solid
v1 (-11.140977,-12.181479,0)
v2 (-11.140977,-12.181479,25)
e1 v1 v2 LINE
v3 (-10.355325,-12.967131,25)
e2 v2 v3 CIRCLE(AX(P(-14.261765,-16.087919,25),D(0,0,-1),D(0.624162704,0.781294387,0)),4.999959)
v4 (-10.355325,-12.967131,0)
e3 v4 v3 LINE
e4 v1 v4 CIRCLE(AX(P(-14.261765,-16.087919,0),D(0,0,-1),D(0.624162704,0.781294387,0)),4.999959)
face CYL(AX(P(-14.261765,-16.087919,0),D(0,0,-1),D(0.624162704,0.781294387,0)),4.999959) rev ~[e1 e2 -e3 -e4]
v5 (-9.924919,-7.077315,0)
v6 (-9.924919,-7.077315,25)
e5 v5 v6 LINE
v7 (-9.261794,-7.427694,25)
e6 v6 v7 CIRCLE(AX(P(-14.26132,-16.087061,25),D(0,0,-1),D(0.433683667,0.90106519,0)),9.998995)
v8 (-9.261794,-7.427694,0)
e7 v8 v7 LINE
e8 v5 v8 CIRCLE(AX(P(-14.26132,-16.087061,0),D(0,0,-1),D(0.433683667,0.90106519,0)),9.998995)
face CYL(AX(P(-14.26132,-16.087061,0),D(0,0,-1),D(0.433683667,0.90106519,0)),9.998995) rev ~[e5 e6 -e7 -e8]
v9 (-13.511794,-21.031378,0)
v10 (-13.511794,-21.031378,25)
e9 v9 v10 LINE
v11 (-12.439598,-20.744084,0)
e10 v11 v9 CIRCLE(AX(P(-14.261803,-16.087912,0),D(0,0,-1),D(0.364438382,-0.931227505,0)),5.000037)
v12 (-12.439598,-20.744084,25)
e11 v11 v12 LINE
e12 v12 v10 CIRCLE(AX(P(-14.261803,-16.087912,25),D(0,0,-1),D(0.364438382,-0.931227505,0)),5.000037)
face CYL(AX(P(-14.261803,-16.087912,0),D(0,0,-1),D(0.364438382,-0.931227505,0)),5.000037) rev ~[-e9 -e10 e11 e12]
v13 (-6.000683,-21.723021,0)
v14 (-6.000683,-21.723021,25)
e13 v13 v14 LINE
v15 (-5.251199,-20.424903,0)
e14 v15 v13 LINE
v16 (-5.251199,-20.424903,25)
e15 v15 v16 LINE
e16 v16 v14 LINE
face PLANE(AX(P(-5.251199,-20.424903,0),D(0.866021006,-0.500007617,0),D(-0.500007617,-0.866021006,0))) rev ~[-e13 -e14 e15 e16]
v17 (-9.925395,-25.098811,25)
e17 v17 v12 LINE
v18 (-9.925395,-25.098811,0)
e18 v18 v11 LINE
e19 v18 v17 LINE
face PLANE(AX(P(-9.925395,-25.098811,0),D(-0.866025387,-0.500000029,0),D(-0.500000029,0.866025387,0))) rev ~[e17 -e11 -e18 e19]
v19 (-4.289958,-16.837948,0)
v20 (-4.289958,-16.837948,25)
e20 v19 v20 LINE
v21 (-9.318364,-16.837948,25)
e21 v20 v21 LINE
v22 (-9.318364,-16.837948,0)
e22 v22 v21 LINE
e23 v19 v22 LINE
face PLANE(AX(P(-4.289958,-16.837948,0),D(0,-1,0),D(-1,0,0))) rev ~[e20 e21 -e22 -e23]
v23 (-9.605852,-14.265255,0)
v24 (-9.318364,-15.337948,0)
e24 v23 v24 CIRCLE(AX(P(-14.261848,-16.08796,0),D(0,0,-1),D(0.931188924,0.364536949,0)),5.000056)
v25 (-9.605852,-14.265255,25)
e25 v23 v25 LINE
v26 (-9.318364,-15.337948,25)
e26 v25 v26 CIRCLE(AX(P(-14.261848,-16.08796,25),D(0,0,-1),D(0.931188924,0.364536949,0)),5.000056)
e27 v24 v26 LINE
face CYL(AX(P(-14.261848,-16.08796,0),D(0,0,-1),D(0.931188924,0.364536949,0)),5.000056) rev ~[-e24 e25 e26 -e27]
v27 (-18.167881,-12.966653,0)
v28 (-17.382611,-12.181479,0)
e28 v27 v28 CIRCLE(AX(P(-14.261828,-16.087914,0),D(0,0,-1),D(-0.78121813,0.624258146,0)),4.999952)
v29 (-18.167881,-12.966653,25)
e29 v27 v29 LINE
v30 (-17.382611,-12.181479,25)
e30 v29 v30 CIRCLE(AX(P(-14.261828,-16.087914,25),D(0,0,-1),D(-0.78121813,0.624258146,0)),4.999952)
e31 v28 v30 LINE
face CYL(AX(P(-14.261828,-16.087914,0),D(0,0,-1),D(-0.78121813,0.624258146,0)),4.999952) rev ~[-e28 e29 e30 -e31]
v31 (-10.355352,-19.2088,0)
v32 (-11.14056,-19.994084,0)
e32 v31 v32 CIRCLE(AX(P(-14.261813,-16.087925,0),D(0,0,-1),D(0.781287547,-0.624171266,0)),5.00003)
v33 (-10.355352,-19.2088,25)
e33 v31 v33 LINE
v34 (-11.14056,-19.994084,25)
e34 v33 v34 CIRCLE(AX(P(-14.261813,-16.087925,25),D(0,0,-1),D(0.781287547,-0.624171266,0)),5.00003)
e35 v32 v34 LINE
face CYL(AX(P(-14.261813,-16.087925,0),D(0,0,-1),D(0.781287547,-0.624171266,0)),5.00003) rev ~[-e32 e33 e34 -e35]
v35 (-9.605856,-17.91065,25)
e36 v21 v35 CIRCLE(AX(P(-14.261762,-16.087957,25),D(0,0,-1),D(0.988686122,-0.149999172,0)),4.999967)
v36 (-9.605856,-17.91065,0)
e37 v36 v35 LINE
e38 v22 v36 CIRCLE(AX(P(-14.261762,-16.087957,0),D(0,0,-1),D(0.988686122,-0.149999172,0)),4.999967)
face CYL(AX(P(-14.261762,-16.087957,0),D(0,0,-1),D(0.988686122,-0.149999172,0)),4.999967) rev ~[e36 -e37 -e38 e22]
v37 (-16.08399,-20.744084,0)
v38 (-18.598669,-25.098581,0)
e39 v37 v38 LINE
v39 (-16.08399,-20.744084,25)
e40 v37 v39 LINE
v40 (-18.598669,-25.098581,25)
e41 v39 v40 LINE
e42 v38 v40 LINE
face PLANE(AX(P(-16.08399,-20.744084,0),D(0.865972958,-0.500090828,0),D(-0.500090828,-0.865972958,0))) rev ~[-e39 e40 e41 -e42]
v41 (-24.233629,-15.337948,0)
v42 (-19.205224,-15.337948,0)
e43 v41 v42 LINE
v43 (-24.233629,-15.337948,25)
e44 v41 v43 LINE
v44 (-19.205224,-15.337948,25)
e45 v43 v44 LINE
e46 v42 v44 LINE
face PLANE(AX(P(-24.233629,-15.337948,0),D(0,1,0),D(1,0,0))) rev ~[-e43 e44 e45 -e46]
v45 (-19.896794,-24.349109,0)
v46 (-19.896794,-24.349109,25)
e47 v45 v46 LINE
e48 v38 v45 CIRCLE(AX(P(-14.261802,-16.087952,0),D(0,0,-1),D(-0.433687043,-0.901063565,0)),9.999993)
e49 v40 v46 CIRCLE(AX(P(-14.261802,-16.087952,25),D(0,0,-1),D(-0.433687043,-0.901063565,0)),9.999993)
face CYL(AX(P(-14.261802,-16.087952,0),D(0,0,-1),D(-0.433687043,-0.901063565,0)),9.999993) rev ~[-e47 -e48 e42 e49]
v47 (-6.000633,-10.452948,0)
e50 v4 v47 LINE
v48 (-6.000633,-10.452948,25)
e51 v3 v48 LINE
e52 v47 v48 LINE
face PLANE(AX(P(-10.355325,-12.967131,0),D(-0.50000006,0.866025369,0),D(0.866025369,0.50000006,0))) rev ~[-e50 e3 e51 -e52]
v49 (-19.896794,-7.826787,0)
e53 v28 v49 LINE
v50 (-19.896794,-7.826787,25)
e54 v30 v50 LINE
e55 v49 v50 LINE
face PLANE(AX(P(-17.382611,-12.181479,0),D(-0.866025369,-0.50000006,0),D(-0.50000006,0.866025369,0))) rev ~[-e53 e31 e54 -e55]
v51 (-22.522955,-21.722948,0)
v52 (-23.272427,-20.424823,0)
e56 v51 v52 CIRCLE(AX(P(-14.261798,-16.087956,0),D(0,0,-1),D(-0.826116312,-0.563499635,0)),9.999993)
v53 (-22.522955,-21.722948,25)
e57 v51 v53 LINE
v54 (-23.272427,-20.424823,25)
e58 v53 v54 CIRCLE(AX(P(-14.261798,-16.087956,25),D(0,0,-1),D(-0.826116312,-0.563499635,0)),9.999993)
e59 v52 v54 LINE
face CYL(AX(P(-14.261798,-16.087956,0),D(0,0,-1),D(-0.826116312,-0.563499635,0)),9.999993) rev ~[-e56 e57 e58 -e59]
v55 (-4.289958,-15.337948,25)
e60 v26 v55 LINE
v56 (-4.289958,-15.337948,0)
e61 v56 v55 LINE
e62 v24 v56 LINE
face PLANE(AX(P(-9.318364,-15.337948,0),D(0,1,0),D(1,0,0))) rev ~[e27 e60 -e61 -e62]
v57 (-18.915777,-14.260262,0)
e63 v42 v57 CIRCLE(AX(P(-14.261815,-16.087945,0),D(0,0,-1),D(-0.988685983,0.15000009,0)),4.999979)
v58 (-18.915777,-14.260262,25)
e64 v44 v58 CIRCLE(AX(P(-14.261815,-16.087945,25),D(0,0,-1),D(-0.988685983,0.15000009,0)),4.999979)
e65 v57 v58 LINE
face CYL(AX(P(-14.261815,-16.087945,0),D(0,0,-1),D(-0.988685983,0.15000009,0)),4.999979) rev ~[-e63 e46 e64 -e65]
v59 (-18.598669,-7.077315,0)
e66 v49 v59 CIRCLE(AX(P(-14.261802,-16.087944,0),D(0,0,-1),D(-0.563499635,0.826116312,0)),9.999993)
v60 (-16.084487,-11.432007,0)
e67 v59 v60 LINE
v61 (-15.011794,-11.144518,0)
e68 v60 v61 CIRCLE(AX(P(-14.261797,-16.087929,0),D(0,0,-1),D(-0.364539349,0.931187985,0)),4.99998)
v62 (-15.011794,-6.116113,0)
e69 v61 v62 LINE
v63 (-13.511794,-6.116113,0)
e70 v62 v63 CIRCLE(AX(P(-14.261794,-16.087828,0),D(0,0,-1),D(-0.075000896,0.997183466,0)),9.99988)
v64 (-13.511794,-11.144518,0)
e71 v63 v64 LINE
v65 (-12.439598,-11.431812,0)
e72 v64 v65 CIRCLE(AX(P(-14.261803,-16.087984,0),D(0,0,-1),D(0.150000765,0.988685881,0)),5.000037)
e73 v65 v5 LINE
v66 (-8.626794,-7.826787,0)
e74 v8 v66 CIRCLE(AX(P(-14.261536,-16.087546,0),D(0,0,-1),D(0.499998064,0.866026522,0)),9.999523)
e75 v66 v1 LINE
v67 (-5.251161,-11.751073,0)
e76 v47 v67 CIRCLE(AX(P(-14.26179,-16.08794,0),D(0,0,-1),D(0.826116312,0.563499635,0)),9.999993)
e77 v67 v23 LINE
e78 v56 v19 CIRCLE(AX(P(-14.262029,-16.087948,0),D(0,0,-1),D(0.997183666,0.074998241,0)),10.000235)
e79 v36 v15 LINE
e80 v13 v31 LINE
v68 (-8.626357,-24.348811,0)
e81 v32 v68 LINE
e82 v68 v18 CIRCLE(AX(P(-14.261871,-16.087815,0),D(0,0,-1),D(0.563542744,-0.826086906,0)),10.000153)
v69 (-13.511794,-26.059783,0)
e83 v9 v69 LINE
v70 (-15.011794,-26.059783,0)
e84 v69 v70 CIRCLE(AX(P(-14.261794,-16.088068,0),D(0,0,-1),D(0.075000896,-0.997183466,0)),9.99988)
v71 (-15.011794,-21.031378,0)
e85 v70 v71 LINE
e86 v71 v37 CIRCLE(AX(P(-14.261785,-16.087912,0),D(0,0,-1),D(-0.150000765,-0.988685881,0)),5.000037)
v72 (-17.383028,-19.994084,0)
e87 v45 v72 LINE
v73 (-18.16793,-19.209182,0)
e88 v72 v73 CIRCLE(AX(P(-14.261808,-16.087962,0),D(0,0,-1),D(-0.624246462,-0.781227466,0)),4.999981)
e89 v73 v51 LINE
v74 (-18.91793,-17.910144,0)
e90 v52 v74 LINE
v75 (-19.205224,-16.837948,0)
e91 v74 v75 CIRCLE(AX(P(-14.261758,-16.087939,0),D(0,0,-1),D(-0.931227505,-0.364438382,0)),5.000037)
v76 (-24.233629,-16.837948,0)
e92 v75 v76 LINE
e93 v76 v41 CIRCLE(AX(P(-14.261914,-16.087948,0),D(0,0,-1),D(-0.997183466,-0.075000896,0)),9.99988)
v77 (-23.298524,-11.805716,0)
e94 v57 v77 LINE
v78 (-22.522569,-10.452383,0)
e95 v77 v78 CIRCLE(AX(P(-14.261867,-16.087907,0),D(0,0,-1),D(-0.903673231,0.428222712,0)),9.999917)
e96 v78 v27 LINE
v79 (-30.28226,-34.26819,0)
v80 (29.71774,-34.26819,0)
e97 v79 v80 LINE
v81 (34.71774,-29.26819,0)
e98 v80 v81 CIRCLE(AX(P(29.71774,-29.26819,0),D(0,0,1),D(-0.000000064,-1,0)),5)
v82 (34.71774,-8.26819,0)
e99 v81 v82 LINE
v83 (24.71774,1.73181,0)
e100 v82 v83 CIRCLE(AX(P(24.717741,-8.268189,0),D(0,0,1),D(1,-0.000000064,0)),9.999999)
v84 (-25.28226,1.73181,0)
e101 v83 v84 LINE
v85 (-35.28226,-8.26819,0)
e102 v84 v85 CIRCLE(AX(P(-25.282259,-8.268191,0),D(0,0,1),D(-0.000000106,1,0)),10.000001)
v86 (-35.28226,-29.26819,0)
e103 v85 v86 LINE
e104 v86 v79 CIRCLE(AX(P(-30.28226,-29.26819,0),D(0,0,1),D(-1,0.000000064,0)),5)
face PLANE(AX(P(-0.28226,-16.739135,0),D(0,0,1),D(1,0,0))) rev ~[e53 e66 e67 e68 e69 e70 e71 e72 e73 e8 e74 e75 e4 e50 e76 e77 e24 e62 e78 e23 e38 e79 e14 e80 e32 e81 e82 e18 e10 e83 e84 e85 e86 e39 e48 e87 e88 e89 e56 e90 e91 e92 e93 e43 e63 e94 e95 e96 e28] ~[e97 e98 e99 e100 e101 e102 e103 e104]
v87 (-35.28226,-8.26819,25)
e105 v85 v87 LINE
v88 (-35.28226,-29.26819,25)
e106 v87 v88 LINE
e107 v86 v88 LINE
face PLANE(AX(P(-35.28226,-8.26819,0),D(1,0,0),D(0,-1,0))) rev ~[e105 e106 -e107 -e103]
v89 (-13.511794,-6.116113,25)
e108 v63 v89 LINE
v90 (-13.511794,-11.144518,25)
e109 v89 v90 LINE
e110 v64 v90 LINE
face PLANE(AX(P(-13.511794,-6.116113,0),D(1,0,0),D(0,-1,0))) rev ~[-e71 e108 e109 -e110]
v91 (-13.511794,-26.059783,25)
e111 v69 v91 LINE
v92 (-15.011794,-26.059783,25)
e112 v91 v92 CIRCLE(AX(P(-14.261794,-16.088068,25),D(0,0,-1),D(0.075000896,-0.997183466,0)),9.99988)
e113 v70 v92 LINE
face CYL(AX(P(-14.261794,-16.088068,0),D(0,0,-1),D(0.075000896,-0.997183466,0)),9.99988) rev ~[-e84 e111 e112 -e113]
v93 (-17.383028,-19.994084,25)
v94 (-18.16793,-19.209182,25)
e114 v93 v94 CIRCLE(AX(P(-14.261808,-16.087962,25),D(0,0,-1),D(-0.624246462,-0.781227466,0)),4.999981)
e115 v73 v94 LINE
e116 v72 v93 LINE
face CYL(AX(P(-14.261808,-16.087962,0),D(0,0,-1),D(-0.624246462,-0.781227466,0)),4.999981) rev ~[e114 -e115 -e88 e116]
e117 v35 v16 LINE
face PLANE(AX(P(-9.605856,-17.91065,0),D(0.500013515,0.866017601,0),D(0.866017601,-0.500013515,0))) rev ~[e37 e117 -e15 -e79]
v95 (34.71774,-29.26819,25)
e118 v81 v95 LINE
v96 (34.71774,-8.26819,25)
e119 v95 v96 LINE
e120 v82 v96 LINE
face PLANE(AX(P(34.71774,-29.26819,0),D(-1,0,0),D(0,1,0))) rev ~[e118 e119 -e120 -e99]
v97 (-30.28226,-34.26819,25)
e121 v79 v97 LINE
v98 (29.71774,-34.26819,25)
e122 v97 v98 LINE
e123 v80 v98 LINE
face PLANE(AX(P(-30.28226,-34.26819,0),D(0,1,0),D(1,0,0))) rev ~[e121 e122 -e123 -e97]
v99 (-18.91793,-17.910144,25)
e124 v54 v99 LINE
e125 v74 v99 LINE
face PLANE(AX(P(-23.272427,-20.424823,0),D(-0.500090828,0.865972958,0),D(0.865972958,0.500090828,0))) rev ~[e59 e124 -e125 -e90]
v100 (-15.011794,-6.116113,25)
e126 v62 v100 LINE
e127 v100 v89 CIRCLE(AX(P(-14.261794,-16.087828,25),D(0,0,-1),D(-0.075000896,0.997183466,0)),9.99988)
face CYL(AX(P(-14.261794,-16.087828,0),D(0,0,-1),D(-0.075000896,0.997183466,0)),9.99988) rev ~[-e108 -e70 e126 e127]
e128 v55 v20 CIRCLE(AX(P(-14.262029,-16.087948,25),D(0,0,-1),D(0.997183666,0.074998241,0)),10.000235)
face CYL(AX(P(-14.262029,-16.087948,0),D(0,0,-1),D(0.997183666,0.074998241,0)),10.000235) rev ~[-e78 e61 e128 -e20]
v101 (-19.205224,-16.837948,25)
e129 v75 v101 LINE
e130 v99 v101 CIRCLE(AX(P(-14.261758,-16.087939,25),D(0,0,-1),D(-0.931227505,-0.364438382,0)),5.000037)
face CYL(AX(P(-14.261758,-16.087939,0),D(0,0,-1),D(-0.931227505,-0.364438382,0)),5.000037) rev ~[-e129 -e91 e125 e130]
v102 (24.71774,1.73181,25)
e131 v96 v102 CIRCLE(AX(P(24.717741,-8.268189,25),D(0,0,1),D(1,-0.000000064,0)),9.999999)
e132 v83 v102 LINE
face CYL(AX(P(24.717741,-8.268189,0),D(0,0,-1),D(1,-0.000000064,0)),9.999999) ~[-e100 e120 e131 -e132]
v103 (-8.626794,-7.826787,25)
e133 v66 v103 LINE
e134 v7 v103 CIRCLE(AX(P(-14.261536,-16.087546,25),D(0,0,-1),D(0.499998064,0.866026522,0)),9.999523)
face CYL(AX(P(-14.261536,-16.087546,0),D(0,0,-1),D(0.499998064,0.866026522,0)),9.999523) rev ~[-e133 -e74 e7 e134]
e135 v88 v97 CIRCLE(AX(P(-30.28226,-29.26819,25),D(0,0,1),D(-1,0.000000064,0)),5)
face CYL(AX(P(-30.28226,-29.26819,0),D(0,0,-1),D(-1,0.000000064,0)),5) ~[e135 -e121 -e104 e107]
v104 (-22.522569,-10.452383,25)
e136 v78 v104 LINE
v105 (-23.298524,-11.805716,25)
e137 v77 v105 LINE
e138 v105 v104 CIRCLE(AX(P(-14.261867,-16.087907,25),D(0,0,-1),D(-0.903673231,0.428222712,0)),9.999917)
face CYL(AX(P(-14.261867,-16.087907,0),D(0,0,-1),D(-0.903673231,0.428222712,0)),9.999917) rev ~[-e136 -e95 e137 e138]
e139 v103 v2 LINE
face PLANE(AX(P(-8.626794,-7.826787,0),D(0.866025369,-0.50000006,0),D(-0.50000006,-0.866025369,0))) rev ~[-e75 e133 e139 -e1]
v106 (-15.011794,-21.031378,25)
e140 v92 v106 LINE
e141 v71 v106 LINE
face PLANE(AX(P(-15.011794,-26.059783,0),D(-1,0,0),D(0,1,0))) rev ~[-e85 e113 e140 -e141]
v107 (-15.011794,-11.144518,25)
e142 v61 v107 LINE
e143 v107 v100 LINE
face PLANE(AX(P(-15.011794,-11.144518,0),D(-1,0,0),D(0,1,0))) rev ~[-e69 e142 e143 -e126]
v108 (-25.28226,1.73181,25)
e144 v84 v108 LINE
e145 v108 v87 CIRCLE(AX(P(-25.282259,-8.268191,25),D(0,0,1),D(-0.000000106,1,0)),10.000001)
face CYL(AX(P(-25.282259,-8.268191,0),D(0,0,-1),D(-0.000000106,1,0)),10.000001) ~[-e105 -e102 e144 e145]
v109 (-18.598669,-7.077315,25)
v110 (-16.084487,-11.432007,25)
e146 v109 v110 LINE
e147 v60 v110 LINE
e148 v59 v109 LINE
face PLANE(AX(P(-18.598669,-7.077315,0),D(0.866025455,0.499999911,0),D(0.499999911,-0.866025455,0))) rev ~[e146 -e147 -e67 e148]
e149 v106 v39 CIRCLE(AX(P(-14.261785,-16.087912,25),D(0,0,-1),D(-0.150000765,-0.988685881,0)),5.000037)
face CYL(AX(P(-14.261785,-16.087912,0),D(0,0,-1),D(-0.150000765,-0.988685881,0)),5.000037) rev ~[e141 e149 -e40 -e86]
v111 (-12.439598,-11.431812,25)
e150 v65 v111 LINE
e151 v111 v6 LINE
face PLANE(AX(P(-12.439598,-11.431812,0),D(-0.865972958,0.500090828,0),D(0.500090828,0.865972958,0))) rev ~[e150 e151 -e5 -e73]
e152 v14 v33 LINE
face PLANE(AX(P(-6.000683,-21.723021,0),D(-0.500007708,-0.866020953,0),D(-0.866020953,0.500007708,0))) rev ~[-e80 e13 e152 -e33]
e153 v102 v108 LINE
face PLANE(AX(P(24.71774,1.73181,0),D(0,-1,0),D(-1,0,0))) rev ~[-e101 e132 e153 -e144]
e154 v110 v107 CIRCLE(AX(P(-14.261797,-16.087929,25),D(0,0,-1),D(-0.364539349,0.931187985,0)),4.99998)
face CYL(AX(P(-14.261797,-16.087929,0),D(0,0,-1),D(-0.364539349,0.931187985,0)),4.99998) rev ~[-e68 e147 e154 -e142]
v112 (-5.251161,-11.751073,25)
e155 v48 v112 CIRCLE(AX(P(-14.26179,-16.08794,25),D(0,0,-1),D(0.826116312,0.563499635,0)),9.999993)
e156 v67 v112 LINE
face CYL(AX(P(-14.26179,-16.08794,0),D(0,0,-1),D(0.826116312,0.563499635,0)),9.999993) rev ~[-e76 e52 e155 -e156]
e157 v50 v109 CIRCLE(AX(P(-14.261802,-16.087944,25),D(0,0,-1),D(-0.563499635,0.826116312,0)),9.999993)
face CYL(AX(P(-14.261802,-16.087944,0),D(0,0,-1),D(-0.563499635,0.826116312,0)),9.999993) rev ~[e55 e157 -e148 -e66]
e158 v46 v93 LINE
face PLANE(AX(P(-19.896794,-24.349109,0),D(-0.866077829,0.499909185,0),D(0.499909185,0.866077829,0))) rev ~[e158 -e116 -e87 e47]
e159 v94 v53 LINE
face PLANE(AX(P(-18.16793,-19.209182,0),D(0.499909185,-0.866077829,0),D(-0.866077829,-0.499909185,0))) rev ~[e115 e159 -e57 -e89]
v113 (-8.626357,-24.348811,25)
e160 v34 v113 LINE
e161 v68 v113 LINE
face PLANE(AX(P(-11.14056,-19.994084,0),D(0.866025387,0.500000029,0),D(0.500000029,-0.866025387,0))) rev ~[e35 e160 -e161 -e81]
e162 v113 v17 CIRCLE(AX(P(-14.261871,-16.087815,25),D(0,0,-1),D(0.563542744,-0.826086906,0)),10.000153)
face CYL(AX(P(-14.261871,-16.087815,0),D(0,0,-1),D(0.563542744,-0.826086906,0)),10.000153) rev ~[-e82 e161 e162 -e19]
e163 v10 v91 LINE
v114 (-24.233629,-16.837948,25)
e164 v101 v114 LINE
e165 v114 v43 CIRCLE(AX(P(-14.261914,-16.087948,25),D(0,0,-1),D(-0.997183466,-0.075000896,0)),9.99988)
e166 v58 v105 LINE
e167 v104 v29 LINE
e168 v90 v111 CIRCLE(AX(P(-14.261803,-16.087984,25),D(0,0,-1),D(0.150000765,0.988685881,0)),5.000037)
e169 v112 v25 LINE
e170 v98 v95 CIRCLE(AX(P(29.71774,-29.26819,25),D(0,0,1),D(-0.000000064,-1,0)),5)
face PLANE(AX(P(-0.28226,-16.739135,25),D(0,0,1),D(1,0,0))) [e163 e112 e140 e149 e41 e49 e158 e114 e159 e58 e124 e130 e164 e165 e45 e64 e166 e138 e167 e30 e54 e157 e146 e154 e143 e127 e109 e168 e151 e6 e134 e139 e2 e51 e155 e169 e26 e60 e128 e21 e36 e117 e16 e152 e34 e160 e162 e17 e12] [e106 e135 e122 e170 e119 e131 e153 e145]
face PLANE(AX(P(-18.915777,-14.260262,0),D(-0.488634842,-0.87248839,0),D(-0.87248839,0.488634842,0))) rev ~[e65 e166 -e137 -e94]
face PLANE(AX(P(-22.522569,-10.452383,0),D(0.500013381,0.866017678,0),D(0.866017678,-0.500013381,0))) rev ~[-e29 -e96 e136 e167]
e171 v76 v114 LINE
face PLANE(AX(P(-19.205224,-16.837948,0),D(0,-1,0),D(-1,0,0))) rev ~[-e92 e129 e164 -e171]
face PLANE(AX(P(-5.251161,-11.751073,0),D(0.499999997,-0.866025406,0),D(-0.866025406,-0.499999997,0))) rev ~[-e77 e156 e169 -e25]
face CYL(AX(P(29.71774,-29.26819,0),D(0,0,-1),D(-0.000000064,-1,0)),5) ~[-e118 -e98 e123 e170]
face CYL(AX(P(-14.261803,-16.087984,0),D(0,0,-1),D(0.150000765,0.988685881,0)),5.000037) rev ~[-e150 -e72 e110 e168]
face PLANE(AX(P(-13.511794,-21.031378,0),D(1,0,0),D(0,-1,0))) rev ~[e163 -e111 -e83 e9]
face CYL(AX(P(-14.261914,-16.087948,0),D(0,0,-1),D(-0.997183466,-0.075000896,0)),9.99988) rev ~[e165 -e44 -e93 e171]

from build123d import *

# Parameters (mm, degrees)
F1_DEPTH = 25


with BuildPart() as f1:
    # F0 (on Top) → F1 (new body)
    with BuildSketch(Plane.XY):
        with BuildLine():
            ThreePointArc((-35.28226, -29.26819), (-33.817794, -32.803724), (-30.28226, -34.26819))
            Line((-30.28226, -34.26819), (29.71774, -34.26819))
            ThreePointArc((29.71774, -34.26819), (33.253274, -32.803724), (34.71774, -29.26819))
            Line((34.71774, -29.26819), (34.71774, -8.26819))
            ThreePointArc((34.71774, -8.26819), (31.788808, -1.197122), (24.71774, 1.73181))
            Line((24.71774, 1.73181), (-25.28226, 1.73181))
            ThreePointArc((-25.28226, 1.73181), (-32.353327, -1.197122), (-35.28226, -8.26819))
            Line((-35.28226, -8.26819), (-35.28226, -29.26819))
        make_face()
        with BuildLine():
            ThreePointArc((-16.084487, -11.432007), (-15.556147, -11.258388), (-15.011794, -11.144518))
            Line((-15.011794, -11.144518), (-15.011794, -6.116113))
            ThreePointArc((-15.011794, -6.116113), (-14.261794, -6.087948), (-13.511794, -6.116113))
            Line((-13.511794, -6.116113), (-13.511794, -11.144518))
            ThreePointArc((-13.511794, -11.144518), (-12.967699, -11.258319), (-12.439598, -11.431812))
            Line((-12.439598, -11.431812), (-9.924919, -7.077315))
            ThreePointArc((-9.924919, -7.077315), (-9.59007, -7.246285), (-9.261794, -7.427694))
            ThreePointArc((-9.261794, -7.427694), (-8.940551, -7.621285), (-8.626794, -7.826787))
            Line((-8.626794, -7.826787), (-11.140977, -12.181479))
            ThreePointArc((-11.140977, -12.181479), (-10.72626, -12.552414), (-10.355325, -12.967131))
            Line((-10.355325, -12.967131), (-6.000633, -10.452948))
            ThreePointArc((-6.000633, -10.452948), (-5.60154, -11.087948), (-5.251161, -11.751073))
            Line((-5.251161, -11.751073), (-9.605852, -14.265255))
            ThreePointArc((-9.605852, -14.265255), (-9.432234, -14.793595), (-9.318364, -15.337948))
            Line((-9.318364, -15.337948), (-4.289958, -15.337948))
            ThreePointArc((-4.289958, -15.337948), (-4.261794, -16.087948), (-4.289958, -16.837948))
            Line((-4.289958, -16.837948), (-9.318364, -16.837948))
            ThreePointArc((-9.318364, -16.837948), (-9.432235, -17.382306), (-9.605856, -17.91065))
            Line((-9.605856, -17.91065), (-5.251199, -20.424903))
            Line((-5.251199, -20.424903), (-6.000683, -21.723021))
            Line((-6.000683, -21.723021), (-10.355352, -19.2088))
            ThreePointArc((-10.355352, -19.2088), (-10.726087, -19.623309), (-11.14056, -19.994084))
            Line((-11.14056, -19.994084), (-8.626357, -24.348811))
            ThreePointArc((-8.626357, -24.348811), (-9.261794, -24.748202), (-9.925395, -25.098811))
            Line((-9.925395, -25.098811), (-12.439598, -20.744084))
            ThreePointArc((-12.439598, -20.744084), (-12.967699, -20.917577), (-13.511794, -21.031378))
            Line((-13.511794, -21.031378), (-13.511794, -26.059783))
            ThreePointArc((-13.511794, -26.059783), (-14.261794, -26.087948), (-15.011794, -26.059783))
            Line((-15.011794, -26.059783), (-15.011794, -21.031378))
            ThreePointArc((-15.011794, -21.031378), (-15.555889, -20.917577), (-16.08399, -20.744084))
            Line((-16.08399, -20.744084), (-18.598669, -25.098581))
            ThreePointArc((-18.598669, -25.098581), (-19.261794, -24.748202), (-19.896794, -24.349109))
            Line((-19.896794, -24.349109), (-17.383028, -19.994084))
            ThreePointArc((-17.383028, -19.994084), (-17.797328, -19.623482), (-18.16793, -19.209182))
            Line((-18.16793, -19.209182), (-22.522955, -21.722948))
            ThreePointArc((-22.522955, -21.722948), (-22.922048, -21.087948), (-23.272427, -20.424823))
            Line((-23.272427, -20.424823), (-18.91793, -17.910144))
            ThreePointArc((-18.91793, -17.910144), (-19.091423, -17.382043), (-19.205224, -16.837948))
            Line((-19.205224, -16.837948), (-24.233629, -16.837948))
            ThreePointArc((-24.233629, -16.837948), (-24.261794, -16.087948), (-24.233629, -15.337948))
            Line((-24.233629, -15.337948), (-19.205224, -15.337948))
            ThreePointArc((-19.205224, -15.337948), (-19.090659, -14.791005), (-18.915777, -14.260262))
            Line((-18.915777, -14.260262), (-23.298524, -11.805716))
            ThreePointArc((-23.298524, -11.805716), (-22.936977, -11.113895), (-22.522569, -10.452383))
            Line((-22.522569, -10.452383), (-18.167881, -12.966653))
            ThreePointArc((-18.167881, -12.966653), (-17.797112, -12.552198), (-17.382611, -12.181479))
            Line((-17.382611, -12.181479), (-19.896794, -7.826787))
            ThreePointArc((-19.896794, -7.826787), (-19.261794, -7.427694), (-18.598669, -7.077315))
            Line((-18.598669, -7.077315), (-16.084487, -11.432007))
        make_face(mode=Mode.SUBTRACT)
    extrude(amount=F1_DEPTH)


solid = f1.part
